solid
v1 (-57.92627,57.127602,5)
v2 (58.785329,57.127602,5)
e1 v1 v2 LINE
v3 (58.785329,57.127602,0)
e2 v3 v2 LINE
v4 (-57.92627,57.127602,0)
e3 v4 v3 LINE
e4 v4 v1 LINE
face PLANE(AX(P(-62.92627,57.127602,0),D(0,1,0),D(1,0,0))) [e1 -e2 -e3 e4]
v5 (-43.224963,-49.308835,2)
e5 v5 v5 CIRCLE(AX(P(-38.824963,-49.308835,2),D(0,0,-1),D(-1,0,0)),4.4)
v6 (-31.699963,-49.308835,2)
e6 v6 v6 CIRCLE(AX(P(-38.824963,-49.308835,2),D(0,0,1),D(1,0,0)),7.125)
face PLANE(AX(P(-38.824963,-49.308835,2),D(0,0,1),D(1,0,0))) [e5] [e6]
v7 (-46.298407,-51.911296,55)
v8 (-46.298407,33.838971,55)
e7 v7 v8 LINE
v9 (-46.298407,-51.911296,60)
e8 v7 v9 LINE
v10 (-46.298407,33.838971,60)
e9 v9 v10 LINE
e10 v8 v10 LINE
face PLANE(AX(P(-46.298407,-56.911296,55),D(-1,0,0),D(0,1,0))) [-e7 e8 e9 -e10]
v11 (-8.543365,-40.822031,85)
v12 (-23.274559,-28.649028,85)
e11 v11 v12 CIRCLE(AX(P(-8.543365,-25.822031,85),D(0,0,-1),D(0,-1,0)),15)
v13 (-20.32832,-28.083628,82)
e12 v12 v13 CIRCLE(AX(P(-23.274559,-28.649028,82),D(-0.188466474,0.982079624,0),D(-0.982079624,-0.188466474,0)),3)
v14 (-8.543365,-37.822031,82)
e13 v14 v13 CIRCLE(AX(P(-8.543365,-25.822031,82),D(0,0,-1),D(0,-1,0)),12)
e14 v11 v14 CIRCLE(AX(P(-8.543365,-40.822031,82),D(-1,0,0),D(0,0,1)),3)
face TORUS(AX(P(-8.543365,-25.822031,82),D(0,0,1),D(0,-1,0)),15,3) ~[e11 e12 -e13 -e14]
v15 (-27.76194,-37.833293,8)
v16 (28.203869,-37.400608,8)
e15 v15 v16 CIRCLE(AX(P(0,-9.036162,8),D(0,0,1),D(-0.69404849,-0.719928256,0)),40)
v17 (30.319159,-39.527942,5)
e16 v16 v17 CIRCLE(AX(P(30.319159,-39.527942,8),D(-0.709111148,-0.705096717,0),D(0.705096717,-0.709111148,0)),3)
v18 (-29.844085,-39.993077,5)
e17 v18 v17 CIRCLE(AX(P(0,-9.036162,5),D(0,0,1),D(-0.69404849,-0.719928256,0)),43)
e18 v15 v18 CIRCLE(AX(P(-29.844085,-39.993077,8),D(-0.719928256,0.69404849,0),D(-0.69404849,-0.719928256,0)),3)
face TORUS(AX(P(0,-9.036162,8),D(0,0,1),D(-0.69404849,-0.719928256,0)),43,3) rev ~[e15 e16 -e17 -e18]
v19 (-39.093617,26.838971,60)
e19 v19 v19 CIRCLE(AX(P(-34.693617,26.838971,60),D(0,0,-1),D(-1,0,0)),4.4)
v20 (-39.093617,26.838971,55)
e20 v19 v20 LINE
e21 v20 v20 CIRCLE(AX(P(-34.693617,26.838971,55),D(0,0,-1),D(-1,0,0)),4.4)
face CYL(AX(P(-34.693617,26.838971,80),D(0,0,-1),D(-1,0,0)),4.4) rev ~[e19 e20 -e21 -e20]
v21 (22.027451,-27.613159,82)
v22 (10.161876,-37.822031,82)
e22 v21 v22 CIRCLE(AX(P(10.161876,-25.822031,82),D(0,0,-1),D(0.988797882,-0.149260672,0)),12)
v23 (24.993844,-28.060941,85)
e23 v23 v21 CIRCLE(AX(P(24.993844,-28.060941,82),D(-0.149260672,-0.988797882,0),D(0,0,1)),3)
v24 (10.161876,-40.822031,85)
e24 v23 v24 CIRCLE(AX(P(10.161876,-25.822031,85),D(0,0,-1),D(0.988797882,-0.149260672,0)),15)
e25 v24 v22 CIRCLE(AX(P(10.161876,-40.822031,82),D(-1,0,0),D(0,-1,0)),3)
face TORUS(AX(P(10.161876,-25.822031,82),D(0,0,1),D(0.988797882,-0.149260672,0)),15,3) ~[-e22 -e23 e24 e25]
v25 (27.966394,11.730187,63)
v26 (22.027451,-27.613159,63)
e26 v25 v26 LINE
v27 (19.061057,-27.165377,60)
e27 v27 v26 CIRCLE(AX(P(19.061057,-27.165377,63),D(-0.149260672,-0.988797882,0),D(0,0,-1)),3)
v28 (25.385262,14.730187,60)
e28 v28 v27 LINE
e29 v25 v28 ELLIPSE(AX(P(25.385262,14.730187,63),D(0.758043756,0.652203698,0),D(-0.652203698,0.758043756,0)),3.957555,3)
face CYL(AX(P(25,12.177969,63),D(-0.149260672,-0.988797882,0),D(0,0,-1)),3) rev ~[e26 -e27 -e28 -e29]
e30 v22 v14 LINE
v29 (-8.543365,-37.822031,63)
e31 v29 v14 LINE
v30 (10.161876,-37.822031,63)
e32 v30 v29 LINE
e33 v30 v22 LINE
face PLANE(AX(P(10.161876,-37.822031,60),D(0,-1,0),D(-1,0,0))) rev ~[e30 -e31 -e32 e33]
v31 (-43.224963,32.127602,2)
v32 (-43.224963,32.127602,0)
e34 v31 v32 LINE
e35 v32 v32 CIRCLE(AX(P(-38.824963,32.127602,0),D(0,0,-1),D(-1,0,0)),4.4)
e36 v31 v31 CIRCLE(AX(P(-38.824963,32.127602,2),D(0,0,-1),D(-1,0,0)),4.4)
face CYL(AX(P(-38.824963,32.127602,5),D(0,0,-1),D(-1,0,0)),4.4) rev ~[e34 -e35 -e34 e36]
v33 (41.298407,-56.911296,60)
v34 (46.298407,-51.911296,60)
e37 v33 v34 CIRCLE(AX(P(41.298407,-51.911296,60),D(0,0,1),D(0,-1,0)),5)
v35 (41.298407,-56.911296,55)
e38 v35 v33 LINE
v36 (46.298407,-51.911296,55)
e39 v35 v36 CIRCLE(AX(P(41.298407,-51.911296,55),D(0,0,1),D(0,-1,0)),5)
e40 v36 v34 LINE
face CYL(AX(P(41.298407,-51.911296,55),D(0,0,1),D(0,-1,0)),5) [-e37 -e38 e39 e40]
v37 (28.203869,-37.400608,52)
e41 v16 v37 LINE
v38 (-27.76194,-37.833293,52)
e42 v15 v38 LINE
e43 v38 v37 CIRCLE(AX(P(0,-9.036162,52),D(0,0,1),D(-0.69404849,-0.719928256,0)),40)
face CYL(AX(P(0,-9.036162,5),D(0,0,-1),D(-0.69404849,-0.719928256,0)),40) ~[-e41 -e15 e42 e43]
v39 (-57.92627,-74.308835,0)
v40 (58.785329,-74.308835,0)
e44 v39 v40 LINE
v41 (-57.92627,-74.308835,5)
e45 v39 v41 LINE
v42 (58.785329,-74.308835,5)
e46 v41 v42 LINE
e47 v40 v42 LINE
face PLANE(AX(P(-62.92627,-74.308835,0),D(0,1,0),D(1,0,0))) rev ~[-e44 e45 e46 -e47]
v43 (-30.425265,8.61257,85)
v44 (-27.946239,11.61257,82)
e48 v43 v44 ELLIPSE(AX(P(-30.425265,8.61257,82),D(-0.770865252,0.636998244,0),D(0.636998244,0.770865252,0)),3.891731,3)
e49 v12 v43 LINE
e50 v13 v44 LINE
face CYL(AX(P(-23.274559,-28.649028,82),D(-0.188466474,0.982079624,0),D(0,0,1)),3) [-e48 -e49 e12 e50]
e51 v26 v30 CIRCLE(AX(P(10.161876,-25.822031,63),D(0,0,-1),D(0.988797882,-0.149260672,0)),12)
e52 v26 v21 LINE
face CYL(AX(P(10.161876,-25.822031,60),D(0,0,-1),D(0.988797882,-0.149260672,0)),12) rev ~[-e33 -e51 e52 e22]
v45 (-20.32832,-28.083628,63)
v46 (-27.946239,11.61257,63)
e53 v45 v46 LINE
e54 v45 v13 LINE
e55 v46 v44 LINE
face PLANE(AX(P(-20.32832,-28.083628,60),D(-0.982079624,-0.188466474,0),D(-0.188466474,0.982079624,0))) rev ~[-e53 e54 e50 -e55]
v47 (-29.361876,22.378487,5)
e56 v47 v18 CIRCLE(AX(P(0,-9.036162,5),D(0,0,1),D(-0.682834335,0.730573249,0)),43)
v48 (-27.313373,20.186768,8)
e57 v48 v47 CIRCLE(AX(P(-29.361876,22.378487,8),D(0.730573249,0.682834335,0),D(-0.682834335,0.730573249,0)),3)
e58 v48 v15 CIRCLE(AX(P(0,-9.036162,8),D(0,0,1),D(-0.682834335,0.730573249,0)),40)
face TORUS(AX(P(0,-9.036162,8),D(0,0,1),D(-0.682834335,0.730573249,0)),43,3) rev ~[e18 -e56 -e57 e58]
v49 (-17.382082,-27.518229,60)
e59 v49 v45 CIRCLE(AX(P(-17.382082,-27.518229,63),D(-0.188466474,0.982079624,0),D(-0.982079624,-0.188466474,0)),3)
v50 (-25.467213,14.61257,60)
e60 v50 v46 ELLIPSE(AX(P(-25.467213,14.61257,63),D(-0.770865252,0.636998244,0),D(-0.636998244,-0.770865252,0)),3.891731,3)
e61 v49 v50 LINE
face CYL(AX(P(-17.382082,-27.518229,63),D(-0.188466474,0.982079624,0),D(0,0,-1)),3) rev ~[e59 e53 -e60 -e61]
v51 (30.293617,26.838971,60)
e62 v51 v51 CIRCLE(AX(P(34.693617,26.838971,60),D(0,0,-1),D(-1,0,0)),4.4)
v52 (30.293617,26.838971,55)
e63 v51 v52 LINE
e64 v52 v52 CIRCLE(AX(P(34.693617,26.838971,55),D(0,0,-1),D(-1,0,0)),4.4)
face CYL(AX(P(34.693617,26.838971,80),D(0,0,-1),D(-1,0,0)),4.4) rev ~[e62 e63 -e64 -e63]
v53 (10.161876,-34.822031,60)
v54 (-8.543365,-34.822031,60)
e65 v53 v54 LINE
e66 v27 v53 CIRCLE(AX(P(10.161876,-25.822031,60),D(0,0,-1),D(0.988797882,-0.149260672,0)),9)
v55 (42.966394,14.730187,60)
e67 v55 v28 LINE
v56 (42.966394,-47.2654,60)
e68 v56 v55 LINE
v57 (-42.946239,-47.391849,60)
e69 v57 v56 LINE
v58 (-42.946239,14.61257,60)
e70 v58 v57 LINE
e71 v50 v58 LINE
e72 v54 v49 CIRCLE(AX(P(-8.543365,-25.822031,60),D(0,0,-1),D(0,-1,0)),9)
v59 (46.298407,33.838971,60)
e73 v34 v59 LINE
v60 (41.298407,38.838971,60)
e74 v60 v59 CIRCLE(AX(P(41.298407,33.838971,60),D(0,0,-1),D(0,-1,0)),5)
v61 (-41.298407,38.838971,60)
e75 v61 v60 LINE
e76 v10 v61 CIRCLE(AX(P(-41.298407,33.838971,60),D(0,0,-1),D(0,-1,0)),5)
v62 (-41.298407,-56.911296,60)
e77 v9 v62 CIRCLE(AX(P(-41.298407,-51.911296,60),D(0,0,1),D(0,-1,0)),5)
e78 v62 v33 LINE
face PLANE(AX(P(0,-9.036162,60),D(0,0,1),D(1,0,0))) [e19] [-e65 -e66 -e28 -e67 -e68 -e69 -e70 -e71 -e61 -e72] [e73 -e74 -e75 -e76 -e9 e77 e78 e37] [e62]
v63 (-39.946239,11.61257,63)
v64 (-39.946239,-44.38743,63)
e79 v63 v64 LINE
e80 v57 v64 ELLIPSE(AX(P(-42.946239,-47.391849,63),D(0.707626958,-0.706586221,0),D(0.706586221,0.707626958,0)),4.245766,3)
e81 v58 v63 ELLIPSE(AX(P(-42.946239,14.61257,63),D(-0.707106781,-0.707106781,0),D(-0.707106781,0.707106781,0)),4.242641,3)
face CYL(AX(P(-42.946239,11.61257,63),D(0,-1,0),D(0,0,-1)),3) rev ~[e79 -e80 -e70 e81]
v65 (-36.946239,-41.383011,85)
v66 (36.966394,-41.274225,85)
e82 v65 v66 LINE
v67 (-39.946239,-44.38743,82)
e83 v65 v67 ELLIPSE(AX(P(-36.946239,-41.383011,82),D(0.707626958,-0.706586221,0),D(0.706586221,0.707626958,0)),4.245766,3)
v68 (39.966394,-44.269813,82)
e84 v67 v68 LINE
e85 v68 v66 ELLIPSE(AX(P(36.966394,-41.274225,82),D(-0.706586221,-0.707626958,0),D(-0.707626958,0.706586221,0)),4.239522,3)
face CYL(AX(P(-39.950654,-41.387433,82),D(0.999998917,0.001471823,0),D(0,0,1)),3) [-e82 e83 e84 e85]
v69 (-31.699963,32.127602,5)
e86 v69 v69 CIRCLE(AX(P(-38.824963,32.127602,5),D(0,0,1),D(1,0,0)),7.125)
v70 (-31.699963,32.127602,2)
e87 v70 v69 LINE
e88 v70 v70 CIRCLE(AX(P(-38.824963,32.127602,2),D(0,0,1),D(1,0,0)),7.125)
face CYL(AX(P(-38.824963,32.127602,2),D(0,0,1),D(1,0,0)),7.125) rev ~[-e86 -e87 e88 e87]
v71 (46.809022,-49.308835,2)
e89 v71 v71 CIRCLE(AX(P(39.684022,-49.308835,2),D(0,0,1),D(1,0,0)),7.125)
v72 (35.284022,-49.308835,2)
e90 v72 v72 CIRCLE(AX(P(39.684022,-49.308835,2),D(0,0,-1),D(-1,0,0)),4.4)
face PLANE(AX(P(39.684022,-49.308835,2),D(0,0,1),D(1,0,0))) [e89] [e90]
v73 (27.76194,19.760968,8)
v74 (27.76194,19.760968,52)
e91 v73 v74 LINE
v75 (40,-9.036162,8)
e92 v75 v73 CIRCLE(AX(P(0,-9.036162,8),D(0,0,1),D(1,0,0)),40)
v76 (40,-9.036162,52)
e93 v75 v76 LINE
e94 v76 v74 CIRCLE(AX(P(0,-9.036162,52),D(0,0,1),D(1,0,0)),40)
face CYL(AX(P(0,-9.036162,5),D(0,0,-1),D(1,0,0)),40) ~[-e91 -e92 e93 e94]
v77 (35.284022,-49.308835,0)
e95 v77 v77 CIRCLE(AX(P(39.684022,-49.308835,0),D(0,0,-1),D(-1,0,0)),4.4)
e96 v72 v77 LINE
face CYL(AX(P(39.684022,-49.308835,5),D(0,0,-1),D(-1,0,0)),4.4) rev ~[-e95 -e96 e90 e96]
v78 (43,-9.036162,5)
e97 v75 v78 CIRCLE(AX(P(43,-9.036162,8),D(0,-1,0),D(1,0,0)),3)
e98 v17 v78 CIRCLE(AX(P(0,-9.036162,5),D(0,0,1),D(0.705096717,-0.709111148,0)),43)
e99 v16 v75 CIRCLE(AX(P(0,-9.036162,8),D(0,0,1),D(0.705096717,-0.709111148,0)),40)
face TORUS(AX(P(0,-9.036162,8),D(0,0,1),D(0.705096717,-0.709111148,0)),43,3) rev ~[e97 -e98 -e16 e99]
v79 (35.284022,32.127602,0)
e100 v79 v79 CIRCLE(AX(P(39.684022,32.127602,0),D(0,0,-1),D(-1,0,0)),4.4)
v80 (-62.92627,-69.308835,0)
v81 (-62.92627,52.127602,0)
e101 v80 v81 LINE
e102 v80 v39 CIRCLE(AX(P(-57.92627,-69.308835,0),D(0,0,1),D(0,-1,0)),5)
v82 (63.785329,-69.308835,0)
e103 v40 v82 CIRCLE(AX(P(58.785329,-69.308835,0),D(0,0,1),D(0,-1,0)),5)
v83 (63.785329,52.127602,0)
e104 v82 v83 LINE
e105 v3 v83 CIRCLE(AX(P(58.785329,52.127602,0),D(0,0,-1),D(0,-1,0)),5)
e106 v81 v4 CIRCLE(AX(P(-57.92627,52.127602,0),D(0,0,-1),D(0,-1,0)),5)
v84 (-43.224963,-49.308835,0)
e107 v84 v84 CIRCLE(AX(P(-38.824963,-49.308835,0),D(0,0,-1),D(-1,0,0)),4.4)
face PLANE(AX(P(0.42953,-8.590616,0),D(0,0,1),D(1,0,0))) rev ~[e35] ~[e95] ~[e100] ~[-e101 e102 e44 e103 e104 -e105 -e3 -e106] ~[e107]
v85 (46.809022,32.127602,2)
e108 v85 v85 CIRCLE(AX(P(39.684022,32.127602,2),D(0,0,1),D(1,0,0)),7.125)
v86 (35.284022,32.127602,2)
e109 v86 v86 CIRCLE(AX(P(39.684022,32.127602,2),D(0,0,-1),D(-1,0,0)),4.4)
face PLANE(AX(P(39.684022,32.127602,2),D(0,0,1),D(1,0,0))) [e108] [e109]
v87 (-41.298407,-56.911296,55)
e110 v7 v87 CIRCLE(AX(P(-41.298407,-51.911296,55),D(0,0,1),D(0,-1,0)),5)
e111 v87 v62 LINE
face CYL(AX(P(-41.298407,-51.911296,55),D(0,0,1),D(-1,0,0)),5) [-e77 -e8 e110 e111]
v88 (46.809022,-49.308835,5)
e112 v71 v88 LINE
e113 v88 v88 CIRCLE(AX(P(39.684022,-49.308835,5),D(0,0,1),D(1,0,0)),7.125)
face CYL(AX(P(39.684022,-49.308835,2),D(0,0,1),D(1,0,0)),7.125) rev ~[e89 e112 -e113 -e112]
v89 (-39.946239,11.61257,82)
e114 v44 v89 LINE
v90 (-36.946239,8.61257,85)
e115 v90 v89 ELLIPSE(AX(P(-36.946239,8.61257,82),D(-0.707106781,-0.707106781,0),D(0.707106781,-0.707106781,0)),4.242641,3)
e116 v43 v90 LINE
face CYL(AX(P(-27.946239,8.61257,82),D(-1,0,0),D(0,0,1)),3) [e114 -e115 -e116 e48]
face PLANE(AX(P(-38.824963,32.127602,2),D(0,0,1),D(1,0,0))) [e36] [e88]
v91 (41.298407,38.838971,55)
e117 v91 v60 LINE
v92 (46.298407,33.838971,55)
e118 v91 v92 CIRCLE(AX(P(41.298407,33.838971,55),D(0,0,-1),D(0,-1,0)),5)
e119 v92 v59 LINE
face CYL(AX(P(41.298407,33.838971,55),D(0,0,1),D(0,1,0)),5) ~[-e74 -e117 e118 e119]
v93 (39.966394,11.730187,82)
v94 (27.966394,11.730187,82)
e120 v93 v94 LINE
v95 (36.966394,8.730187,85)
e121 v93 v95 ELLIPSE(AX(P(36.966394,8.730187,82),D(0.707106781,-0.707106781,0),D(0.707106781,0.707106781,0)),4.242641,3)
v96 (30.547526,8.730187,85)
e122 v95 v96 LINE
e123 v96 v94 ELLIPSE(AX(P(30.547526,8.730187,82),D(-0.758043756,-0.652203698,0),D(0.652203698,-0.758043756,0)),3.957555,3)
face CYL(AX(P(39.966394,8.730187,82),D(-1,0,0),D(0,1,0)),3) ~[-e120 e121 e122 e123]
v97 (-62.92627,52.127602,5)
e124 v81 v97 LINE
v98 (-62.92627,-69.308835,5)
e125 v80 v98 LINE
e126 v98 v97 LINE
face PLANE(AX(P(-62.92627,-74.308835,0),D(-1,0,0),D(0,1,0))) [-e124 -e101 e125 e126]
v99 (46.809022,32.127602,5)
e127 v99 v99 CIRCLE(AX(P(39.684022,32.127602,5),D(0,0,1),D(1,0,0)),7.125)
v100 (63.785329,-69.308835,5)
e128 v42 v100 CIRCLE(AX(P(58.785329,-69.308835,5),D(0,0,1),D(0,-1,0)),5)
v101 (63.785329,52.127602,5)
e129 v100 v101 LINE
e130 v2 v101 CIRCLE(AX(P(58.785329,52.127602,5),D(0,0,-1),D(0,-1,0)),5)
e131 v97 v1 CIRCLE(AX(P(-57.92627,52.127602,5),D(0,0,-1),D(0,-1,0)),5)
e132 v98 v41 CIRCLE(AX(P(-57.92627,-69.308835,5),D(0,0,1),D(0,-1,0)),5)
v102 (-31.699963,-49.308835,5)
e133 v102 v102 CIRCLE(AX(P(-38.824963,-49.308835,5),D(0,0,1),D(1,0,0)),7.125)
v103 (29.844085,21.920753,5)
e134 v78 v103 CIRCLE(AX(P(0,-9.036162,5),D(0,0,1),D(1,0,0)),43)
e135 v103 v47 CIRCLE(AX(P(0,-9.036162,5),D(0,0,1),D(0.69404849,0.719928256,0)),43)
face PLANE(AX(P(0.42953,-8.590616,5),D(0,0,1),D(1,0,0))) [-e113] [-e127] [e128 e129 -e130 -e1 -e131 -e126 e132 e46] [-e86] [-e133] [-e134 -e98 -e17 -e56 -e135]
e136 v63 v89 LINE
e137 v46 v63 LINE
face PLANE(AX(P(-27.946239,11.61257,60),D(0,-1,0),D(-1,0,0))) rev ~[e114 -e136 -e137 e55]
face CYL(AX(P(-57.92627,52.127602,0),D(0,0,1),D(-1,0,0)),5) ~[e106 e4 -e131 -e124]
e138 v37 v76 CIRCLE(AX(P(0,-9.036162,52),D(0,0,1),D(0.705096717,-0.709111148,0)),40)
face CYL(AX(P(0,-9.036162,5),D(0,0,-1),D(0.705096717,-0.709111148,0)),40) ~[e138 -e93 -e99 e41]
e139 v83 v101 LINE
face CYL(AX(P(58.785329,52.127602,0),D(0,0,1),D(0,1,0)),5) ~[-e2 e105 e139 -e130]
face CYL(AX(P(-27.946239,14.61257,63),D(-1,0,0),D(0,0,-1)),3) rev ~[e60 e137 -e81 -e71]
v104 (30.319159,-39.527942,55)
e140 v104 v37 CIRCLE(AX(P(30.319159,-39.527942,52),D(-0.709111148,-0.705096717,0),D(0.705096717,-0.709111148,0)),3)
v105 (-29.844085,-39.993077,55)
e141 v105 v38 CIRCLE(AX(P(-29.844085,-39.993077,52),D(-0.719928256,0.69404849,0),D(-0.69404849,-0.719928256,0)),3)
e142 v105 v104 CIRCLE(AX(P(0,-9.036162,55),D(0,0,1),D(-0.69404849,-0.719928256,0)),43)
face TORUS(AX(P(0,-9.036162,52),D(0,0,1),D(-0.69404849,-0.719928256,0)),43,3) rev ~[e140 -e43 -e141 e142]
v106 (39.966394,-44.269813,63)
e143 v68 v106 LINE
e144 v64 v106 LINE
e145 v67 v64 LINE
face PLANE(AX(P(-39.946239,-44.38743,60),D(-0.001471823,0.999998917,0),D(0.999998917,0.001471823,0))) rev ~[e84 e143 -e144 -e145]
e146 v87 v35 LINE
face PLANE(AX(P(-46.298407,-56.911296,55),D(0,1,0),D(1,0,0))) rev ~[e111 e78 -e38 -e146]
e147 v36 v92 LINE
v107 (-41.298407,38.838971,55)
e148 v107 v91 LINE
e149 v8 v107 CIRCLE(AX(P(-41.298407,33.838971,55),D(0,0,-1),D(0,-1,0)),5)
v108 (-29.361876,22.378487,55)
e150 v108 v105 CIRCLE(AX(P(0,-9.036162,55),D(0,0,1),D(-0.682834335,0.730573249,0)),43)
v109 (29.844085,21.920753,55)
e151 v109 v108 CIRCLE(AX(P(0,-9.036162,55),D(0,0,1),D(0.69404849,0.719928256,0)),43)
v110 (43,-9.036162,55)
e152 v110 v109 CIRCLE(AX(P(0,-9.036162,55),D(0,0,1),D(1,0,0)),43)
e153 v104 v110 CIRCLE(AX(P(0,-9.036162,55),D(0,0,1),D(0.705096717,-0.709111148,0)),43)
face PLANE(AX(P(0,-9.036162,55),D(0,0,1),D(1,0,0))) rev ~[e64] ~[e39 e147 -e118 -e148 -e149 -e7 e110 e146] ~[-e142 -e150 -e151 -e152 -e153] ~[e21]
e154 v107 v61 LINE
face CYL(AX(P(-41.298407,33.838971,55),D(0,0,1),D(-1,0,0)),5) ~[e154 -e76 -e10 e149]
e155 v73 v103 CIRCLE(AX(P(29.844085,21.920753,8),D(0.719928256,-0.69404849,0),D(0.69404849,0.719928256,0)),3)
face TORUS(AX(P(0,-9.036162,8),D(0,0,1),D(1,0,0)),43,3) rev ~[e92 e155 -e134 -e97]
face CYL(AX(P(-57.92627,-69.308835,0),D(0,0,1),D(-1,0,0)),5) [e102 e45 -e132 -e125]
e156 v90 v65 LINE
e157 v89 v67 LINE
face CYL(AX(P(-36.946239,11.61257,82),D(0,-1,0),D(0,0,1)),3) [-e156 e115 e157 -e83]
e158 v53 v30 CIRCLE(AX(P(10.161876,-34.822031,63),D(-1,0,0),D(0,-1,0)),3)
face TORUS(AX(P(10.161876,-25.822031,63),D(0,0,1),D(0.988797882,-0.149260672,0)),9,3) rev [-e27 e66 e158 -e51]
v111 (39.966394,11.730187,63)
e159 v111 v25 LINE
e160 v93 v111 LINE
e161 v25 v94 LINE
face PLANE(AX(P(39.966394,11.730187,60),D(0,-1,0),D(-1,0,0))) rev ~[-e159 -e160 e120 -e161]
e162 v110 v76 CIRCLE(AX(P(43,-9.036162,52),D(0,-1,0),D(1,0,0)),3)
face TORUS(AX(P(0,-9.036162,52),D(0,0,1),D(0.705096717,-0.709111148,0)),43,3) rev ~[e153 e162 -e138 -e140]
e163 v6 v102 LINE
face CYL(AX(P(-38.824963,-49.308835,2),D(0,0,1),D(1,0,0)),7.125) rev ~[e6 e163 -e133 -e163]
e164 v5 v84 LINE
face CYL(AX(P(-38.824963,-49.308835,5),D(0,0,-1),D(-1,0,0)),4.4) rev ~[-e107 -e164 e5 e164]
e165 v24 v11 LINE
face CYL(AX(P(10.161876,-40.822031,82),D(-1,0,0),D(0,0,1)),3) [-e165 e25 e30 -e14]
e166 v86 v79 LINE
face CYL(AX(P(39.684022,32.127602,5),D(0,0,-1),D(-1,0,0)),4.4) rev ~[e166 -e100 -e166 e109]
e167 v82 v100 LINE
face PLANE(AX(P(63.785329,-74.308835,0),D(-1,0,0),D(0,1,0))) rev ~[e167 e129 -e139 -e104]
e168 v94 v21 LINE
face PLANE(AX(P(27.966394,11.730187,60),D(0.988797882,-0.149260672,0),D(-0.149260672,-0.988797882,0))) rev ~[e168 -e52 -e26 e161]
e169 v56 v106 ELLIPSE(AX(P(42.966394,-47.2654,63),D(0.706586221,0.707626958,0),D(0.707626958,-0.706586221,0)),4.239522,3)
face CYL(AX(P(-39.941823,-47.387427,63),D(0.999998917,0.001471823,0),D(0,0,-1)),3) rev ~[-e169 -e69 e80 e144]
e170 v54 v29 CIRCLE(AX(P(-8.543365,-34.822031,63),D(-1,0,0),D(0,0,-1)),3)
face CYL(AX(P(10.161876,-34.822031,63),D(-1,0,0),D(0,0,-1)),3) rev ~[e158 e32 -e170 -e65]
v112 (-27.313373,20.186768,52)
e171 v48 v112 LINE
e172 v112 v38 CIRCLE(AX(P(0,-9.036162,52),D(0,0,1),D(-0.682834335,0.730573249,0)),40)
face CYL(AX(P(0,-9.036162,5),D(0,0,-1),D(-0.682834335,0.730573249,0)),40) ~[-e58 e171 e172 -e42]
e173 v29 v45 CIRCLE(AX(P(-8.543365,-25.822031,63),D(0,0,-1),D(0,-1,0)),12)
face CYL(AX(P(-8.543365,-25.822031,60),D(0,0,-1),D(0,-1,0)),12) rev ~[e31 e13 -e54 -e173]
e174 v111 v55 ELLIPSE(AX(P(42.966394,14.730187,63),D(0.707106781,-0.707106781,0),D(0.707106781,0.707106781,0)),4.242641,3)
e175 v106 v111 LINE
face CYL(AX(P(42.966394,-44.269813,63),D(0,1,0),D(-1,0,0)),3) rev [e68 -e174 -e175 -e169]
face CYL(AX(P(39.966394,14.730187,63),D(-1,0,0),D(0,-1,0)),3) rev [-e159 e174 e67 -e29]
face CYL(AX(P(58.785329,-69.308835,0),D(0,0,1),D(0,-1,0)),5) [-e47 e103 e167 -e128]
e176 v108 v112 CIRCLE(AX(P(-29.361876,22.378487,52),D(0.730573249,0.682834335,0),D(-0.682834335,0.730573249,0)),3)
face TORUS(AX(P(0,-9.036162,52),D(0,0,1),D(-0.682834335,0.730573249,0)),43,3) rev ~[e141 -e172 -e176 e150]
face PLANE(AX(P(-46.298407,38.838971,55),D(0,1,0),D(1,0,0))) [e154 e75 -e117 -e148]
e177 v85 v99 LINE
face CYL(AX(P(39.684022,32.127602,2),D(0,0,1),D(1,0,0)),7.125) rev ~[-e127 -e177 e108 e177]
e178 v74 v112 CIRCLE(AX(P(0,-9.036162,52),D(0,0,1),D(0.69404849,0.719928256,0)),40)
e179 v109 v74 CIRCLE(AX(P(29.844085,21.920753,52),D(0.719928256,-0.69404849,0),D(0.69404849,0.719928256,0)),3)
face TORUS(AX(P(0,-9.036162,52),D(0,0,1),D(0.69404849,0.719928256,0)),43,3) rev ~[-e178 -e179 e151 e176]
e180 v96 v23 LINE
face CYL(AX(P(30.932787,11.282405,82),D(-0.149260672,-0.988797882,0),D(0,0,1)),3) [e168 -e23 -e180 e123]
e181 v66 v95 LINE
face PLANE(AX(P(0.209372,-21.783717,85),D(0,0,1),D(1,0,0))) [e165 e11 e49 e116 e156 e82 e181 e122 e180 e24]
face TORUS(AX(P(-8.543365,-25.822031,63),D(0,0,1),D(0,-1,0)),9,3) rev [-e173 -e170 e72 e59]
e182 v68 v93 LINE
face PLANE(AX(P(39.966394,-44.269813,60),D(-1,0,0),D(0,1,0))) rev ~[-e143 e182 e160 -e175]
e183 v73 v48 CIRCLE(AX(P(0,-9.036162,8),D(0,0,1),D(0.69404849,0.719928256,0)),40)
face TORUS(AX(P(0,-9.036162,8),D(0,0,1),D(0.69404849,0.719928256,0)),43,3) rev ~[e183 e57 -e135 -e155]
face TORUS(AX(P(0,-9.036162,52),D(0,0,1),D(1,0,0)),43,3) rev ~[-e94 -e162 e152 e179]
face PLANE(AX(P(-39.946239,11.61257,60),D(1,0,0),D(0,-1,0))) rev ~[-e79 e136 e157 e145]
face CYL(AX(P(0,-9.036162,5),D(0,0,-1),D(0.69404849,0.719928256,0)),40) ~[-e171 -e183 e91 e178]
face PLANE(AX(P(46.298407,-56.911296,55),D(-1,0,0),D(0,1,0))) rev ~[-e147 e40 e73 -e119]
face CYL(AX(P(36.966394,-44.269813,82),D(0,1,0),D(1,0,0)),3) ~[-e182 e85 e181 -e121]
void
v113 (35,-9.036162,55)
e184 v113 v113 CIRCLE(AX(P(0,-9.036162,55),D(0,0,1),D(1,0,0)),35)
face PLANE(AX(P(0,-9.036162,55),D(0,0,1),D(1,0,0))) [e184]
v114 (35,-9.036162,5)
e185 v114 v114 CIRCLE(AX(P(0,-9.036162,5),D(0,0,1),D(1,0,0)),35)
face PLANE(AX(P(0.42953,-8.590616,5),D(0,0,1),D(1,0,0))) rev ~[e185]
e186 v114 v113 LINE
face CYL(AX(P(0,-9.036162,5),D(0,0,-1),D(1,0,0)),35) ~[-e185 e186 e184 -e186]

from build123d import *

# Parameters (mm, degrees)
F0_W           = 126.7115995288
F0_H           = 131.4364373684
F1_DEPTH       = 5
F3_D           = 8.8
F3_CBORE_D     = 14.25
F3_CBORE_DEPTH = 3
F2_R           = 35
F4_DEPTH       = 50
F5_W           = 92.5968140364
F5_H           = 95.7502674907
F5_R           = 40
F5_R_2         = 35
F7_DEPTH       = 5
F9_DEPTH       = 18
F10_DEPTH      = 25
F11_D          = 8.8
F11_DEPTH      = 20
F11_TIP        = 2.6437867237
F12_R          = 3
F13_R          = 5


with BuildPart() as f1:
    # F0 (on Top) → F1 (new body)
    with BuildSketch(Plane.XY):
        with Locations((0.4295296967, -8.5906162858)):
            Rectangle(F0_W, F0_H)
    extrude(amount=F1_DEPTH)

    # F3 (through all)
    with Locations(Plane.XY.offset(5)):
        with Locations((-38.8249626095, 32.1276023984), (39.6840220029, 32.1276023984), (39.6840220029, -49.30883497), (-38.8249626095, -49.30883497)):
            CounterBoreHole(F3_D / 2, F3_CBORE_D / 2, F3_CBORE_DEPTH)

    # F2 (on face) → F4 (join)
    with BuildSketch(Plane.XY.offset(5)):
        with BuildLine():
            ThreePointArc((27.7619395928, 19.7609679006), (0.3092398069, 30.9626422773), (-27.3133733823, 20.1867676043))
            ThreePointArc((-27.3133733823, 20.1867676043), (-39.9988046164, -8.7269225322), (-27.7619395928, -37.8332925789))
            ThreePointArc((-27.7619395928, -37.8332925789), (0.3092398069, -49.0349669555), (28.2038686691, -37.4006082547))
            ThreePointArc((28.2038686691, -37.4006082547), (36.9334181113, -24.3959353393), (40, -9.0361623391))
            ThreePointArc((40, -9.0361623391), (36.8135680403, 6.6086837178), (27.7619395928, 19.7609679006))
        make_face()
        with Locations((0, -9.0361623391)):
            Circle(F2_R, mode=Mode.SUBTRACT)
    extrude(amount=F4_DEPTH)

    # F5 (on face) → F7 (join)
    with BuildSketch(Plane.XY.offset(55)):
        with Locations((0, -9.0361623391)):
            Rectangle(F5_W, F5_H)
        with Locations((0, -9.0361623391)):
            Circle(F5_R, mode=Mode.SUBTRACT)
        with Locations((0, -9.0361623391)):
            Circle(F5_R)
        with Locations((0, -9.0361623391)):
            Circle(F5_R_2, mode=Mode.SUBTRACT)
        with Locations((0, -9.0361623391)):
            Circle(F5_R_2)
    extrude(amount=F7_DEPTH)

    # F8 (on face) → F9 (join)
    with BuildSketch(Plane.XY.offset(60)):
        with BuildLine():
            Line((39.9663936465, 11.7301873131), (27.9663936465, 11.7301873131))
            Line((27.9663936465, 11.7301873131), (22.0274506375, -27.6131587349))
            ThreePointArc((22.0274506375, -27.6131587349), (17.9883204303, -34.9185557428), (10.1618760514, -37.8220306709))
            Line((10.1618760514, -37.8220306709), (0, -37.8220306709))
            Line((0, -37.8220306709), (-8.5433648964, -37.8220306709))
            ThreePointArc((-8.5433648964, -37.8220306709), (-16.1873438252, -35.0724136975), (-20.328320386, -28.0836283605))
            Line((-20.328320386, -28.0836283605), (-27.9462388724, 11.6125699067))
            Line((-27.9462388724, 11.6125699067), (-39.9462388724, 11.6125699067))
            Line((-39.9462388724, 11.6125699067), (-39.9462388724, -44.3874300933))
            Line((-39.9462388724, -44.3874300933), (39.9663936465, -44.2698126869))
            Line((39.9663936465, -44.2698126869), (39.9663936465, 11.7301873131))
        make_face()
    extrude(amount=F9_DEPTH)

    # F8 (on face) → F10 (join)
    with BuildSketch(Plane.XY.offset(60)):
        with BuildLine():
            Line((39.9663936465, 11.7301873131), (27.9663936465, 11.7301873131))
            Line((27.9663936465, 11.7301873131), (22.0274506375, -27.6131587349))
            ThreePointArc((22.0274506375, -27.6131587349), (17.9883204303, -34.9185557428), (10.1618760514, -37.8220306709))
            Line((10.1618760514, -37.8220306709), (0, -37.8220306709))
            Line((0, -37.8220306709), (-8.5433648964, -37.8220306709))
            ThreePointArc((-8.5433648964, -37.8220306709), (-16.1873438252, -35.0724136975), (-20.328320386, -28.0836283605))
            Line((-20.328320386, -28.0836283605), (-27.9462388724, 11.6125699067))
            Line((-27.9462388724, 11.6125699067), (-39.9462388724, 11.6125699067))
            Line((-39.9462388724, 11.6125699067), (-39.9462388724, -44.3874300933))
            Line((-39.9462388724, -44.3874300933), (39.9663936465, -44.2698126869))
            Line((39.9663936465, -44.2698126869), (39.9663936465, 11.7301873131))
        make_face()
    extrude(amount=F10_DEPTH)

    # F11
    with Locations(Plane.XY.offset(60)):
        with Locations((-34.6936167909, 26.8389714062), (34.6936167909, 26.8389714062)):
            Hole(F11_D / 2, depth=F11_DEPTH)
            with Locations((0, 0, -(F11_DEPTH + F11_TIP / 2))):  # 118° drill point
                Cone(0, F11_D / 2, F11_TIP, mode=Mode.SUBTRACT)

    # F12
    f12_edges = [f1.edges().sort_by_distance(p)[0] for p in [
        (27.76194, 19.760968, 5),
        (0.010077, -44.328621, 60),
        (39.966394, -16.269813, 60),
        (33.966394, 11.730187, 60),
        (-33.946239, 11.61257, 60),
        (-39.946239, -16.38743, 60),
        (-24.13728, -8.235529, 60),
        (17.98832, -34.918556, 85),
        (39.966394, -16.269813, 85),
        (0.010077, -44.328621, 85),
        (-39.946239, -16.38743, 85),
        (-33.946239, 11.61257, 85),
        (33.966394, 11.730187, 85),
        (27.76194, 19.760968, 55),
    ]]
    fillet(f12_edges, radius=F12_R)

    # F13
    f13_edges = [f1.edges().sort_by_distance(p)[0] for p in [
        (63.785329, 57.127602, 2.5),
        (-62.92627, 57.127602, 2.5),
        (63.785329, -74.308835, 2.5),
        (46.298407, -56.911296, 57.5),
        (46.298407, 38.838971, 57.5),
        (-46.298407, 38.838971, 57.5),
        (-62.92627, -74.308835, 2.5),
        (-46.298407, -56.911296, 57.5),
    ]]
    fillet(f13_edges, radius=F13_R)


solid = f1.part
